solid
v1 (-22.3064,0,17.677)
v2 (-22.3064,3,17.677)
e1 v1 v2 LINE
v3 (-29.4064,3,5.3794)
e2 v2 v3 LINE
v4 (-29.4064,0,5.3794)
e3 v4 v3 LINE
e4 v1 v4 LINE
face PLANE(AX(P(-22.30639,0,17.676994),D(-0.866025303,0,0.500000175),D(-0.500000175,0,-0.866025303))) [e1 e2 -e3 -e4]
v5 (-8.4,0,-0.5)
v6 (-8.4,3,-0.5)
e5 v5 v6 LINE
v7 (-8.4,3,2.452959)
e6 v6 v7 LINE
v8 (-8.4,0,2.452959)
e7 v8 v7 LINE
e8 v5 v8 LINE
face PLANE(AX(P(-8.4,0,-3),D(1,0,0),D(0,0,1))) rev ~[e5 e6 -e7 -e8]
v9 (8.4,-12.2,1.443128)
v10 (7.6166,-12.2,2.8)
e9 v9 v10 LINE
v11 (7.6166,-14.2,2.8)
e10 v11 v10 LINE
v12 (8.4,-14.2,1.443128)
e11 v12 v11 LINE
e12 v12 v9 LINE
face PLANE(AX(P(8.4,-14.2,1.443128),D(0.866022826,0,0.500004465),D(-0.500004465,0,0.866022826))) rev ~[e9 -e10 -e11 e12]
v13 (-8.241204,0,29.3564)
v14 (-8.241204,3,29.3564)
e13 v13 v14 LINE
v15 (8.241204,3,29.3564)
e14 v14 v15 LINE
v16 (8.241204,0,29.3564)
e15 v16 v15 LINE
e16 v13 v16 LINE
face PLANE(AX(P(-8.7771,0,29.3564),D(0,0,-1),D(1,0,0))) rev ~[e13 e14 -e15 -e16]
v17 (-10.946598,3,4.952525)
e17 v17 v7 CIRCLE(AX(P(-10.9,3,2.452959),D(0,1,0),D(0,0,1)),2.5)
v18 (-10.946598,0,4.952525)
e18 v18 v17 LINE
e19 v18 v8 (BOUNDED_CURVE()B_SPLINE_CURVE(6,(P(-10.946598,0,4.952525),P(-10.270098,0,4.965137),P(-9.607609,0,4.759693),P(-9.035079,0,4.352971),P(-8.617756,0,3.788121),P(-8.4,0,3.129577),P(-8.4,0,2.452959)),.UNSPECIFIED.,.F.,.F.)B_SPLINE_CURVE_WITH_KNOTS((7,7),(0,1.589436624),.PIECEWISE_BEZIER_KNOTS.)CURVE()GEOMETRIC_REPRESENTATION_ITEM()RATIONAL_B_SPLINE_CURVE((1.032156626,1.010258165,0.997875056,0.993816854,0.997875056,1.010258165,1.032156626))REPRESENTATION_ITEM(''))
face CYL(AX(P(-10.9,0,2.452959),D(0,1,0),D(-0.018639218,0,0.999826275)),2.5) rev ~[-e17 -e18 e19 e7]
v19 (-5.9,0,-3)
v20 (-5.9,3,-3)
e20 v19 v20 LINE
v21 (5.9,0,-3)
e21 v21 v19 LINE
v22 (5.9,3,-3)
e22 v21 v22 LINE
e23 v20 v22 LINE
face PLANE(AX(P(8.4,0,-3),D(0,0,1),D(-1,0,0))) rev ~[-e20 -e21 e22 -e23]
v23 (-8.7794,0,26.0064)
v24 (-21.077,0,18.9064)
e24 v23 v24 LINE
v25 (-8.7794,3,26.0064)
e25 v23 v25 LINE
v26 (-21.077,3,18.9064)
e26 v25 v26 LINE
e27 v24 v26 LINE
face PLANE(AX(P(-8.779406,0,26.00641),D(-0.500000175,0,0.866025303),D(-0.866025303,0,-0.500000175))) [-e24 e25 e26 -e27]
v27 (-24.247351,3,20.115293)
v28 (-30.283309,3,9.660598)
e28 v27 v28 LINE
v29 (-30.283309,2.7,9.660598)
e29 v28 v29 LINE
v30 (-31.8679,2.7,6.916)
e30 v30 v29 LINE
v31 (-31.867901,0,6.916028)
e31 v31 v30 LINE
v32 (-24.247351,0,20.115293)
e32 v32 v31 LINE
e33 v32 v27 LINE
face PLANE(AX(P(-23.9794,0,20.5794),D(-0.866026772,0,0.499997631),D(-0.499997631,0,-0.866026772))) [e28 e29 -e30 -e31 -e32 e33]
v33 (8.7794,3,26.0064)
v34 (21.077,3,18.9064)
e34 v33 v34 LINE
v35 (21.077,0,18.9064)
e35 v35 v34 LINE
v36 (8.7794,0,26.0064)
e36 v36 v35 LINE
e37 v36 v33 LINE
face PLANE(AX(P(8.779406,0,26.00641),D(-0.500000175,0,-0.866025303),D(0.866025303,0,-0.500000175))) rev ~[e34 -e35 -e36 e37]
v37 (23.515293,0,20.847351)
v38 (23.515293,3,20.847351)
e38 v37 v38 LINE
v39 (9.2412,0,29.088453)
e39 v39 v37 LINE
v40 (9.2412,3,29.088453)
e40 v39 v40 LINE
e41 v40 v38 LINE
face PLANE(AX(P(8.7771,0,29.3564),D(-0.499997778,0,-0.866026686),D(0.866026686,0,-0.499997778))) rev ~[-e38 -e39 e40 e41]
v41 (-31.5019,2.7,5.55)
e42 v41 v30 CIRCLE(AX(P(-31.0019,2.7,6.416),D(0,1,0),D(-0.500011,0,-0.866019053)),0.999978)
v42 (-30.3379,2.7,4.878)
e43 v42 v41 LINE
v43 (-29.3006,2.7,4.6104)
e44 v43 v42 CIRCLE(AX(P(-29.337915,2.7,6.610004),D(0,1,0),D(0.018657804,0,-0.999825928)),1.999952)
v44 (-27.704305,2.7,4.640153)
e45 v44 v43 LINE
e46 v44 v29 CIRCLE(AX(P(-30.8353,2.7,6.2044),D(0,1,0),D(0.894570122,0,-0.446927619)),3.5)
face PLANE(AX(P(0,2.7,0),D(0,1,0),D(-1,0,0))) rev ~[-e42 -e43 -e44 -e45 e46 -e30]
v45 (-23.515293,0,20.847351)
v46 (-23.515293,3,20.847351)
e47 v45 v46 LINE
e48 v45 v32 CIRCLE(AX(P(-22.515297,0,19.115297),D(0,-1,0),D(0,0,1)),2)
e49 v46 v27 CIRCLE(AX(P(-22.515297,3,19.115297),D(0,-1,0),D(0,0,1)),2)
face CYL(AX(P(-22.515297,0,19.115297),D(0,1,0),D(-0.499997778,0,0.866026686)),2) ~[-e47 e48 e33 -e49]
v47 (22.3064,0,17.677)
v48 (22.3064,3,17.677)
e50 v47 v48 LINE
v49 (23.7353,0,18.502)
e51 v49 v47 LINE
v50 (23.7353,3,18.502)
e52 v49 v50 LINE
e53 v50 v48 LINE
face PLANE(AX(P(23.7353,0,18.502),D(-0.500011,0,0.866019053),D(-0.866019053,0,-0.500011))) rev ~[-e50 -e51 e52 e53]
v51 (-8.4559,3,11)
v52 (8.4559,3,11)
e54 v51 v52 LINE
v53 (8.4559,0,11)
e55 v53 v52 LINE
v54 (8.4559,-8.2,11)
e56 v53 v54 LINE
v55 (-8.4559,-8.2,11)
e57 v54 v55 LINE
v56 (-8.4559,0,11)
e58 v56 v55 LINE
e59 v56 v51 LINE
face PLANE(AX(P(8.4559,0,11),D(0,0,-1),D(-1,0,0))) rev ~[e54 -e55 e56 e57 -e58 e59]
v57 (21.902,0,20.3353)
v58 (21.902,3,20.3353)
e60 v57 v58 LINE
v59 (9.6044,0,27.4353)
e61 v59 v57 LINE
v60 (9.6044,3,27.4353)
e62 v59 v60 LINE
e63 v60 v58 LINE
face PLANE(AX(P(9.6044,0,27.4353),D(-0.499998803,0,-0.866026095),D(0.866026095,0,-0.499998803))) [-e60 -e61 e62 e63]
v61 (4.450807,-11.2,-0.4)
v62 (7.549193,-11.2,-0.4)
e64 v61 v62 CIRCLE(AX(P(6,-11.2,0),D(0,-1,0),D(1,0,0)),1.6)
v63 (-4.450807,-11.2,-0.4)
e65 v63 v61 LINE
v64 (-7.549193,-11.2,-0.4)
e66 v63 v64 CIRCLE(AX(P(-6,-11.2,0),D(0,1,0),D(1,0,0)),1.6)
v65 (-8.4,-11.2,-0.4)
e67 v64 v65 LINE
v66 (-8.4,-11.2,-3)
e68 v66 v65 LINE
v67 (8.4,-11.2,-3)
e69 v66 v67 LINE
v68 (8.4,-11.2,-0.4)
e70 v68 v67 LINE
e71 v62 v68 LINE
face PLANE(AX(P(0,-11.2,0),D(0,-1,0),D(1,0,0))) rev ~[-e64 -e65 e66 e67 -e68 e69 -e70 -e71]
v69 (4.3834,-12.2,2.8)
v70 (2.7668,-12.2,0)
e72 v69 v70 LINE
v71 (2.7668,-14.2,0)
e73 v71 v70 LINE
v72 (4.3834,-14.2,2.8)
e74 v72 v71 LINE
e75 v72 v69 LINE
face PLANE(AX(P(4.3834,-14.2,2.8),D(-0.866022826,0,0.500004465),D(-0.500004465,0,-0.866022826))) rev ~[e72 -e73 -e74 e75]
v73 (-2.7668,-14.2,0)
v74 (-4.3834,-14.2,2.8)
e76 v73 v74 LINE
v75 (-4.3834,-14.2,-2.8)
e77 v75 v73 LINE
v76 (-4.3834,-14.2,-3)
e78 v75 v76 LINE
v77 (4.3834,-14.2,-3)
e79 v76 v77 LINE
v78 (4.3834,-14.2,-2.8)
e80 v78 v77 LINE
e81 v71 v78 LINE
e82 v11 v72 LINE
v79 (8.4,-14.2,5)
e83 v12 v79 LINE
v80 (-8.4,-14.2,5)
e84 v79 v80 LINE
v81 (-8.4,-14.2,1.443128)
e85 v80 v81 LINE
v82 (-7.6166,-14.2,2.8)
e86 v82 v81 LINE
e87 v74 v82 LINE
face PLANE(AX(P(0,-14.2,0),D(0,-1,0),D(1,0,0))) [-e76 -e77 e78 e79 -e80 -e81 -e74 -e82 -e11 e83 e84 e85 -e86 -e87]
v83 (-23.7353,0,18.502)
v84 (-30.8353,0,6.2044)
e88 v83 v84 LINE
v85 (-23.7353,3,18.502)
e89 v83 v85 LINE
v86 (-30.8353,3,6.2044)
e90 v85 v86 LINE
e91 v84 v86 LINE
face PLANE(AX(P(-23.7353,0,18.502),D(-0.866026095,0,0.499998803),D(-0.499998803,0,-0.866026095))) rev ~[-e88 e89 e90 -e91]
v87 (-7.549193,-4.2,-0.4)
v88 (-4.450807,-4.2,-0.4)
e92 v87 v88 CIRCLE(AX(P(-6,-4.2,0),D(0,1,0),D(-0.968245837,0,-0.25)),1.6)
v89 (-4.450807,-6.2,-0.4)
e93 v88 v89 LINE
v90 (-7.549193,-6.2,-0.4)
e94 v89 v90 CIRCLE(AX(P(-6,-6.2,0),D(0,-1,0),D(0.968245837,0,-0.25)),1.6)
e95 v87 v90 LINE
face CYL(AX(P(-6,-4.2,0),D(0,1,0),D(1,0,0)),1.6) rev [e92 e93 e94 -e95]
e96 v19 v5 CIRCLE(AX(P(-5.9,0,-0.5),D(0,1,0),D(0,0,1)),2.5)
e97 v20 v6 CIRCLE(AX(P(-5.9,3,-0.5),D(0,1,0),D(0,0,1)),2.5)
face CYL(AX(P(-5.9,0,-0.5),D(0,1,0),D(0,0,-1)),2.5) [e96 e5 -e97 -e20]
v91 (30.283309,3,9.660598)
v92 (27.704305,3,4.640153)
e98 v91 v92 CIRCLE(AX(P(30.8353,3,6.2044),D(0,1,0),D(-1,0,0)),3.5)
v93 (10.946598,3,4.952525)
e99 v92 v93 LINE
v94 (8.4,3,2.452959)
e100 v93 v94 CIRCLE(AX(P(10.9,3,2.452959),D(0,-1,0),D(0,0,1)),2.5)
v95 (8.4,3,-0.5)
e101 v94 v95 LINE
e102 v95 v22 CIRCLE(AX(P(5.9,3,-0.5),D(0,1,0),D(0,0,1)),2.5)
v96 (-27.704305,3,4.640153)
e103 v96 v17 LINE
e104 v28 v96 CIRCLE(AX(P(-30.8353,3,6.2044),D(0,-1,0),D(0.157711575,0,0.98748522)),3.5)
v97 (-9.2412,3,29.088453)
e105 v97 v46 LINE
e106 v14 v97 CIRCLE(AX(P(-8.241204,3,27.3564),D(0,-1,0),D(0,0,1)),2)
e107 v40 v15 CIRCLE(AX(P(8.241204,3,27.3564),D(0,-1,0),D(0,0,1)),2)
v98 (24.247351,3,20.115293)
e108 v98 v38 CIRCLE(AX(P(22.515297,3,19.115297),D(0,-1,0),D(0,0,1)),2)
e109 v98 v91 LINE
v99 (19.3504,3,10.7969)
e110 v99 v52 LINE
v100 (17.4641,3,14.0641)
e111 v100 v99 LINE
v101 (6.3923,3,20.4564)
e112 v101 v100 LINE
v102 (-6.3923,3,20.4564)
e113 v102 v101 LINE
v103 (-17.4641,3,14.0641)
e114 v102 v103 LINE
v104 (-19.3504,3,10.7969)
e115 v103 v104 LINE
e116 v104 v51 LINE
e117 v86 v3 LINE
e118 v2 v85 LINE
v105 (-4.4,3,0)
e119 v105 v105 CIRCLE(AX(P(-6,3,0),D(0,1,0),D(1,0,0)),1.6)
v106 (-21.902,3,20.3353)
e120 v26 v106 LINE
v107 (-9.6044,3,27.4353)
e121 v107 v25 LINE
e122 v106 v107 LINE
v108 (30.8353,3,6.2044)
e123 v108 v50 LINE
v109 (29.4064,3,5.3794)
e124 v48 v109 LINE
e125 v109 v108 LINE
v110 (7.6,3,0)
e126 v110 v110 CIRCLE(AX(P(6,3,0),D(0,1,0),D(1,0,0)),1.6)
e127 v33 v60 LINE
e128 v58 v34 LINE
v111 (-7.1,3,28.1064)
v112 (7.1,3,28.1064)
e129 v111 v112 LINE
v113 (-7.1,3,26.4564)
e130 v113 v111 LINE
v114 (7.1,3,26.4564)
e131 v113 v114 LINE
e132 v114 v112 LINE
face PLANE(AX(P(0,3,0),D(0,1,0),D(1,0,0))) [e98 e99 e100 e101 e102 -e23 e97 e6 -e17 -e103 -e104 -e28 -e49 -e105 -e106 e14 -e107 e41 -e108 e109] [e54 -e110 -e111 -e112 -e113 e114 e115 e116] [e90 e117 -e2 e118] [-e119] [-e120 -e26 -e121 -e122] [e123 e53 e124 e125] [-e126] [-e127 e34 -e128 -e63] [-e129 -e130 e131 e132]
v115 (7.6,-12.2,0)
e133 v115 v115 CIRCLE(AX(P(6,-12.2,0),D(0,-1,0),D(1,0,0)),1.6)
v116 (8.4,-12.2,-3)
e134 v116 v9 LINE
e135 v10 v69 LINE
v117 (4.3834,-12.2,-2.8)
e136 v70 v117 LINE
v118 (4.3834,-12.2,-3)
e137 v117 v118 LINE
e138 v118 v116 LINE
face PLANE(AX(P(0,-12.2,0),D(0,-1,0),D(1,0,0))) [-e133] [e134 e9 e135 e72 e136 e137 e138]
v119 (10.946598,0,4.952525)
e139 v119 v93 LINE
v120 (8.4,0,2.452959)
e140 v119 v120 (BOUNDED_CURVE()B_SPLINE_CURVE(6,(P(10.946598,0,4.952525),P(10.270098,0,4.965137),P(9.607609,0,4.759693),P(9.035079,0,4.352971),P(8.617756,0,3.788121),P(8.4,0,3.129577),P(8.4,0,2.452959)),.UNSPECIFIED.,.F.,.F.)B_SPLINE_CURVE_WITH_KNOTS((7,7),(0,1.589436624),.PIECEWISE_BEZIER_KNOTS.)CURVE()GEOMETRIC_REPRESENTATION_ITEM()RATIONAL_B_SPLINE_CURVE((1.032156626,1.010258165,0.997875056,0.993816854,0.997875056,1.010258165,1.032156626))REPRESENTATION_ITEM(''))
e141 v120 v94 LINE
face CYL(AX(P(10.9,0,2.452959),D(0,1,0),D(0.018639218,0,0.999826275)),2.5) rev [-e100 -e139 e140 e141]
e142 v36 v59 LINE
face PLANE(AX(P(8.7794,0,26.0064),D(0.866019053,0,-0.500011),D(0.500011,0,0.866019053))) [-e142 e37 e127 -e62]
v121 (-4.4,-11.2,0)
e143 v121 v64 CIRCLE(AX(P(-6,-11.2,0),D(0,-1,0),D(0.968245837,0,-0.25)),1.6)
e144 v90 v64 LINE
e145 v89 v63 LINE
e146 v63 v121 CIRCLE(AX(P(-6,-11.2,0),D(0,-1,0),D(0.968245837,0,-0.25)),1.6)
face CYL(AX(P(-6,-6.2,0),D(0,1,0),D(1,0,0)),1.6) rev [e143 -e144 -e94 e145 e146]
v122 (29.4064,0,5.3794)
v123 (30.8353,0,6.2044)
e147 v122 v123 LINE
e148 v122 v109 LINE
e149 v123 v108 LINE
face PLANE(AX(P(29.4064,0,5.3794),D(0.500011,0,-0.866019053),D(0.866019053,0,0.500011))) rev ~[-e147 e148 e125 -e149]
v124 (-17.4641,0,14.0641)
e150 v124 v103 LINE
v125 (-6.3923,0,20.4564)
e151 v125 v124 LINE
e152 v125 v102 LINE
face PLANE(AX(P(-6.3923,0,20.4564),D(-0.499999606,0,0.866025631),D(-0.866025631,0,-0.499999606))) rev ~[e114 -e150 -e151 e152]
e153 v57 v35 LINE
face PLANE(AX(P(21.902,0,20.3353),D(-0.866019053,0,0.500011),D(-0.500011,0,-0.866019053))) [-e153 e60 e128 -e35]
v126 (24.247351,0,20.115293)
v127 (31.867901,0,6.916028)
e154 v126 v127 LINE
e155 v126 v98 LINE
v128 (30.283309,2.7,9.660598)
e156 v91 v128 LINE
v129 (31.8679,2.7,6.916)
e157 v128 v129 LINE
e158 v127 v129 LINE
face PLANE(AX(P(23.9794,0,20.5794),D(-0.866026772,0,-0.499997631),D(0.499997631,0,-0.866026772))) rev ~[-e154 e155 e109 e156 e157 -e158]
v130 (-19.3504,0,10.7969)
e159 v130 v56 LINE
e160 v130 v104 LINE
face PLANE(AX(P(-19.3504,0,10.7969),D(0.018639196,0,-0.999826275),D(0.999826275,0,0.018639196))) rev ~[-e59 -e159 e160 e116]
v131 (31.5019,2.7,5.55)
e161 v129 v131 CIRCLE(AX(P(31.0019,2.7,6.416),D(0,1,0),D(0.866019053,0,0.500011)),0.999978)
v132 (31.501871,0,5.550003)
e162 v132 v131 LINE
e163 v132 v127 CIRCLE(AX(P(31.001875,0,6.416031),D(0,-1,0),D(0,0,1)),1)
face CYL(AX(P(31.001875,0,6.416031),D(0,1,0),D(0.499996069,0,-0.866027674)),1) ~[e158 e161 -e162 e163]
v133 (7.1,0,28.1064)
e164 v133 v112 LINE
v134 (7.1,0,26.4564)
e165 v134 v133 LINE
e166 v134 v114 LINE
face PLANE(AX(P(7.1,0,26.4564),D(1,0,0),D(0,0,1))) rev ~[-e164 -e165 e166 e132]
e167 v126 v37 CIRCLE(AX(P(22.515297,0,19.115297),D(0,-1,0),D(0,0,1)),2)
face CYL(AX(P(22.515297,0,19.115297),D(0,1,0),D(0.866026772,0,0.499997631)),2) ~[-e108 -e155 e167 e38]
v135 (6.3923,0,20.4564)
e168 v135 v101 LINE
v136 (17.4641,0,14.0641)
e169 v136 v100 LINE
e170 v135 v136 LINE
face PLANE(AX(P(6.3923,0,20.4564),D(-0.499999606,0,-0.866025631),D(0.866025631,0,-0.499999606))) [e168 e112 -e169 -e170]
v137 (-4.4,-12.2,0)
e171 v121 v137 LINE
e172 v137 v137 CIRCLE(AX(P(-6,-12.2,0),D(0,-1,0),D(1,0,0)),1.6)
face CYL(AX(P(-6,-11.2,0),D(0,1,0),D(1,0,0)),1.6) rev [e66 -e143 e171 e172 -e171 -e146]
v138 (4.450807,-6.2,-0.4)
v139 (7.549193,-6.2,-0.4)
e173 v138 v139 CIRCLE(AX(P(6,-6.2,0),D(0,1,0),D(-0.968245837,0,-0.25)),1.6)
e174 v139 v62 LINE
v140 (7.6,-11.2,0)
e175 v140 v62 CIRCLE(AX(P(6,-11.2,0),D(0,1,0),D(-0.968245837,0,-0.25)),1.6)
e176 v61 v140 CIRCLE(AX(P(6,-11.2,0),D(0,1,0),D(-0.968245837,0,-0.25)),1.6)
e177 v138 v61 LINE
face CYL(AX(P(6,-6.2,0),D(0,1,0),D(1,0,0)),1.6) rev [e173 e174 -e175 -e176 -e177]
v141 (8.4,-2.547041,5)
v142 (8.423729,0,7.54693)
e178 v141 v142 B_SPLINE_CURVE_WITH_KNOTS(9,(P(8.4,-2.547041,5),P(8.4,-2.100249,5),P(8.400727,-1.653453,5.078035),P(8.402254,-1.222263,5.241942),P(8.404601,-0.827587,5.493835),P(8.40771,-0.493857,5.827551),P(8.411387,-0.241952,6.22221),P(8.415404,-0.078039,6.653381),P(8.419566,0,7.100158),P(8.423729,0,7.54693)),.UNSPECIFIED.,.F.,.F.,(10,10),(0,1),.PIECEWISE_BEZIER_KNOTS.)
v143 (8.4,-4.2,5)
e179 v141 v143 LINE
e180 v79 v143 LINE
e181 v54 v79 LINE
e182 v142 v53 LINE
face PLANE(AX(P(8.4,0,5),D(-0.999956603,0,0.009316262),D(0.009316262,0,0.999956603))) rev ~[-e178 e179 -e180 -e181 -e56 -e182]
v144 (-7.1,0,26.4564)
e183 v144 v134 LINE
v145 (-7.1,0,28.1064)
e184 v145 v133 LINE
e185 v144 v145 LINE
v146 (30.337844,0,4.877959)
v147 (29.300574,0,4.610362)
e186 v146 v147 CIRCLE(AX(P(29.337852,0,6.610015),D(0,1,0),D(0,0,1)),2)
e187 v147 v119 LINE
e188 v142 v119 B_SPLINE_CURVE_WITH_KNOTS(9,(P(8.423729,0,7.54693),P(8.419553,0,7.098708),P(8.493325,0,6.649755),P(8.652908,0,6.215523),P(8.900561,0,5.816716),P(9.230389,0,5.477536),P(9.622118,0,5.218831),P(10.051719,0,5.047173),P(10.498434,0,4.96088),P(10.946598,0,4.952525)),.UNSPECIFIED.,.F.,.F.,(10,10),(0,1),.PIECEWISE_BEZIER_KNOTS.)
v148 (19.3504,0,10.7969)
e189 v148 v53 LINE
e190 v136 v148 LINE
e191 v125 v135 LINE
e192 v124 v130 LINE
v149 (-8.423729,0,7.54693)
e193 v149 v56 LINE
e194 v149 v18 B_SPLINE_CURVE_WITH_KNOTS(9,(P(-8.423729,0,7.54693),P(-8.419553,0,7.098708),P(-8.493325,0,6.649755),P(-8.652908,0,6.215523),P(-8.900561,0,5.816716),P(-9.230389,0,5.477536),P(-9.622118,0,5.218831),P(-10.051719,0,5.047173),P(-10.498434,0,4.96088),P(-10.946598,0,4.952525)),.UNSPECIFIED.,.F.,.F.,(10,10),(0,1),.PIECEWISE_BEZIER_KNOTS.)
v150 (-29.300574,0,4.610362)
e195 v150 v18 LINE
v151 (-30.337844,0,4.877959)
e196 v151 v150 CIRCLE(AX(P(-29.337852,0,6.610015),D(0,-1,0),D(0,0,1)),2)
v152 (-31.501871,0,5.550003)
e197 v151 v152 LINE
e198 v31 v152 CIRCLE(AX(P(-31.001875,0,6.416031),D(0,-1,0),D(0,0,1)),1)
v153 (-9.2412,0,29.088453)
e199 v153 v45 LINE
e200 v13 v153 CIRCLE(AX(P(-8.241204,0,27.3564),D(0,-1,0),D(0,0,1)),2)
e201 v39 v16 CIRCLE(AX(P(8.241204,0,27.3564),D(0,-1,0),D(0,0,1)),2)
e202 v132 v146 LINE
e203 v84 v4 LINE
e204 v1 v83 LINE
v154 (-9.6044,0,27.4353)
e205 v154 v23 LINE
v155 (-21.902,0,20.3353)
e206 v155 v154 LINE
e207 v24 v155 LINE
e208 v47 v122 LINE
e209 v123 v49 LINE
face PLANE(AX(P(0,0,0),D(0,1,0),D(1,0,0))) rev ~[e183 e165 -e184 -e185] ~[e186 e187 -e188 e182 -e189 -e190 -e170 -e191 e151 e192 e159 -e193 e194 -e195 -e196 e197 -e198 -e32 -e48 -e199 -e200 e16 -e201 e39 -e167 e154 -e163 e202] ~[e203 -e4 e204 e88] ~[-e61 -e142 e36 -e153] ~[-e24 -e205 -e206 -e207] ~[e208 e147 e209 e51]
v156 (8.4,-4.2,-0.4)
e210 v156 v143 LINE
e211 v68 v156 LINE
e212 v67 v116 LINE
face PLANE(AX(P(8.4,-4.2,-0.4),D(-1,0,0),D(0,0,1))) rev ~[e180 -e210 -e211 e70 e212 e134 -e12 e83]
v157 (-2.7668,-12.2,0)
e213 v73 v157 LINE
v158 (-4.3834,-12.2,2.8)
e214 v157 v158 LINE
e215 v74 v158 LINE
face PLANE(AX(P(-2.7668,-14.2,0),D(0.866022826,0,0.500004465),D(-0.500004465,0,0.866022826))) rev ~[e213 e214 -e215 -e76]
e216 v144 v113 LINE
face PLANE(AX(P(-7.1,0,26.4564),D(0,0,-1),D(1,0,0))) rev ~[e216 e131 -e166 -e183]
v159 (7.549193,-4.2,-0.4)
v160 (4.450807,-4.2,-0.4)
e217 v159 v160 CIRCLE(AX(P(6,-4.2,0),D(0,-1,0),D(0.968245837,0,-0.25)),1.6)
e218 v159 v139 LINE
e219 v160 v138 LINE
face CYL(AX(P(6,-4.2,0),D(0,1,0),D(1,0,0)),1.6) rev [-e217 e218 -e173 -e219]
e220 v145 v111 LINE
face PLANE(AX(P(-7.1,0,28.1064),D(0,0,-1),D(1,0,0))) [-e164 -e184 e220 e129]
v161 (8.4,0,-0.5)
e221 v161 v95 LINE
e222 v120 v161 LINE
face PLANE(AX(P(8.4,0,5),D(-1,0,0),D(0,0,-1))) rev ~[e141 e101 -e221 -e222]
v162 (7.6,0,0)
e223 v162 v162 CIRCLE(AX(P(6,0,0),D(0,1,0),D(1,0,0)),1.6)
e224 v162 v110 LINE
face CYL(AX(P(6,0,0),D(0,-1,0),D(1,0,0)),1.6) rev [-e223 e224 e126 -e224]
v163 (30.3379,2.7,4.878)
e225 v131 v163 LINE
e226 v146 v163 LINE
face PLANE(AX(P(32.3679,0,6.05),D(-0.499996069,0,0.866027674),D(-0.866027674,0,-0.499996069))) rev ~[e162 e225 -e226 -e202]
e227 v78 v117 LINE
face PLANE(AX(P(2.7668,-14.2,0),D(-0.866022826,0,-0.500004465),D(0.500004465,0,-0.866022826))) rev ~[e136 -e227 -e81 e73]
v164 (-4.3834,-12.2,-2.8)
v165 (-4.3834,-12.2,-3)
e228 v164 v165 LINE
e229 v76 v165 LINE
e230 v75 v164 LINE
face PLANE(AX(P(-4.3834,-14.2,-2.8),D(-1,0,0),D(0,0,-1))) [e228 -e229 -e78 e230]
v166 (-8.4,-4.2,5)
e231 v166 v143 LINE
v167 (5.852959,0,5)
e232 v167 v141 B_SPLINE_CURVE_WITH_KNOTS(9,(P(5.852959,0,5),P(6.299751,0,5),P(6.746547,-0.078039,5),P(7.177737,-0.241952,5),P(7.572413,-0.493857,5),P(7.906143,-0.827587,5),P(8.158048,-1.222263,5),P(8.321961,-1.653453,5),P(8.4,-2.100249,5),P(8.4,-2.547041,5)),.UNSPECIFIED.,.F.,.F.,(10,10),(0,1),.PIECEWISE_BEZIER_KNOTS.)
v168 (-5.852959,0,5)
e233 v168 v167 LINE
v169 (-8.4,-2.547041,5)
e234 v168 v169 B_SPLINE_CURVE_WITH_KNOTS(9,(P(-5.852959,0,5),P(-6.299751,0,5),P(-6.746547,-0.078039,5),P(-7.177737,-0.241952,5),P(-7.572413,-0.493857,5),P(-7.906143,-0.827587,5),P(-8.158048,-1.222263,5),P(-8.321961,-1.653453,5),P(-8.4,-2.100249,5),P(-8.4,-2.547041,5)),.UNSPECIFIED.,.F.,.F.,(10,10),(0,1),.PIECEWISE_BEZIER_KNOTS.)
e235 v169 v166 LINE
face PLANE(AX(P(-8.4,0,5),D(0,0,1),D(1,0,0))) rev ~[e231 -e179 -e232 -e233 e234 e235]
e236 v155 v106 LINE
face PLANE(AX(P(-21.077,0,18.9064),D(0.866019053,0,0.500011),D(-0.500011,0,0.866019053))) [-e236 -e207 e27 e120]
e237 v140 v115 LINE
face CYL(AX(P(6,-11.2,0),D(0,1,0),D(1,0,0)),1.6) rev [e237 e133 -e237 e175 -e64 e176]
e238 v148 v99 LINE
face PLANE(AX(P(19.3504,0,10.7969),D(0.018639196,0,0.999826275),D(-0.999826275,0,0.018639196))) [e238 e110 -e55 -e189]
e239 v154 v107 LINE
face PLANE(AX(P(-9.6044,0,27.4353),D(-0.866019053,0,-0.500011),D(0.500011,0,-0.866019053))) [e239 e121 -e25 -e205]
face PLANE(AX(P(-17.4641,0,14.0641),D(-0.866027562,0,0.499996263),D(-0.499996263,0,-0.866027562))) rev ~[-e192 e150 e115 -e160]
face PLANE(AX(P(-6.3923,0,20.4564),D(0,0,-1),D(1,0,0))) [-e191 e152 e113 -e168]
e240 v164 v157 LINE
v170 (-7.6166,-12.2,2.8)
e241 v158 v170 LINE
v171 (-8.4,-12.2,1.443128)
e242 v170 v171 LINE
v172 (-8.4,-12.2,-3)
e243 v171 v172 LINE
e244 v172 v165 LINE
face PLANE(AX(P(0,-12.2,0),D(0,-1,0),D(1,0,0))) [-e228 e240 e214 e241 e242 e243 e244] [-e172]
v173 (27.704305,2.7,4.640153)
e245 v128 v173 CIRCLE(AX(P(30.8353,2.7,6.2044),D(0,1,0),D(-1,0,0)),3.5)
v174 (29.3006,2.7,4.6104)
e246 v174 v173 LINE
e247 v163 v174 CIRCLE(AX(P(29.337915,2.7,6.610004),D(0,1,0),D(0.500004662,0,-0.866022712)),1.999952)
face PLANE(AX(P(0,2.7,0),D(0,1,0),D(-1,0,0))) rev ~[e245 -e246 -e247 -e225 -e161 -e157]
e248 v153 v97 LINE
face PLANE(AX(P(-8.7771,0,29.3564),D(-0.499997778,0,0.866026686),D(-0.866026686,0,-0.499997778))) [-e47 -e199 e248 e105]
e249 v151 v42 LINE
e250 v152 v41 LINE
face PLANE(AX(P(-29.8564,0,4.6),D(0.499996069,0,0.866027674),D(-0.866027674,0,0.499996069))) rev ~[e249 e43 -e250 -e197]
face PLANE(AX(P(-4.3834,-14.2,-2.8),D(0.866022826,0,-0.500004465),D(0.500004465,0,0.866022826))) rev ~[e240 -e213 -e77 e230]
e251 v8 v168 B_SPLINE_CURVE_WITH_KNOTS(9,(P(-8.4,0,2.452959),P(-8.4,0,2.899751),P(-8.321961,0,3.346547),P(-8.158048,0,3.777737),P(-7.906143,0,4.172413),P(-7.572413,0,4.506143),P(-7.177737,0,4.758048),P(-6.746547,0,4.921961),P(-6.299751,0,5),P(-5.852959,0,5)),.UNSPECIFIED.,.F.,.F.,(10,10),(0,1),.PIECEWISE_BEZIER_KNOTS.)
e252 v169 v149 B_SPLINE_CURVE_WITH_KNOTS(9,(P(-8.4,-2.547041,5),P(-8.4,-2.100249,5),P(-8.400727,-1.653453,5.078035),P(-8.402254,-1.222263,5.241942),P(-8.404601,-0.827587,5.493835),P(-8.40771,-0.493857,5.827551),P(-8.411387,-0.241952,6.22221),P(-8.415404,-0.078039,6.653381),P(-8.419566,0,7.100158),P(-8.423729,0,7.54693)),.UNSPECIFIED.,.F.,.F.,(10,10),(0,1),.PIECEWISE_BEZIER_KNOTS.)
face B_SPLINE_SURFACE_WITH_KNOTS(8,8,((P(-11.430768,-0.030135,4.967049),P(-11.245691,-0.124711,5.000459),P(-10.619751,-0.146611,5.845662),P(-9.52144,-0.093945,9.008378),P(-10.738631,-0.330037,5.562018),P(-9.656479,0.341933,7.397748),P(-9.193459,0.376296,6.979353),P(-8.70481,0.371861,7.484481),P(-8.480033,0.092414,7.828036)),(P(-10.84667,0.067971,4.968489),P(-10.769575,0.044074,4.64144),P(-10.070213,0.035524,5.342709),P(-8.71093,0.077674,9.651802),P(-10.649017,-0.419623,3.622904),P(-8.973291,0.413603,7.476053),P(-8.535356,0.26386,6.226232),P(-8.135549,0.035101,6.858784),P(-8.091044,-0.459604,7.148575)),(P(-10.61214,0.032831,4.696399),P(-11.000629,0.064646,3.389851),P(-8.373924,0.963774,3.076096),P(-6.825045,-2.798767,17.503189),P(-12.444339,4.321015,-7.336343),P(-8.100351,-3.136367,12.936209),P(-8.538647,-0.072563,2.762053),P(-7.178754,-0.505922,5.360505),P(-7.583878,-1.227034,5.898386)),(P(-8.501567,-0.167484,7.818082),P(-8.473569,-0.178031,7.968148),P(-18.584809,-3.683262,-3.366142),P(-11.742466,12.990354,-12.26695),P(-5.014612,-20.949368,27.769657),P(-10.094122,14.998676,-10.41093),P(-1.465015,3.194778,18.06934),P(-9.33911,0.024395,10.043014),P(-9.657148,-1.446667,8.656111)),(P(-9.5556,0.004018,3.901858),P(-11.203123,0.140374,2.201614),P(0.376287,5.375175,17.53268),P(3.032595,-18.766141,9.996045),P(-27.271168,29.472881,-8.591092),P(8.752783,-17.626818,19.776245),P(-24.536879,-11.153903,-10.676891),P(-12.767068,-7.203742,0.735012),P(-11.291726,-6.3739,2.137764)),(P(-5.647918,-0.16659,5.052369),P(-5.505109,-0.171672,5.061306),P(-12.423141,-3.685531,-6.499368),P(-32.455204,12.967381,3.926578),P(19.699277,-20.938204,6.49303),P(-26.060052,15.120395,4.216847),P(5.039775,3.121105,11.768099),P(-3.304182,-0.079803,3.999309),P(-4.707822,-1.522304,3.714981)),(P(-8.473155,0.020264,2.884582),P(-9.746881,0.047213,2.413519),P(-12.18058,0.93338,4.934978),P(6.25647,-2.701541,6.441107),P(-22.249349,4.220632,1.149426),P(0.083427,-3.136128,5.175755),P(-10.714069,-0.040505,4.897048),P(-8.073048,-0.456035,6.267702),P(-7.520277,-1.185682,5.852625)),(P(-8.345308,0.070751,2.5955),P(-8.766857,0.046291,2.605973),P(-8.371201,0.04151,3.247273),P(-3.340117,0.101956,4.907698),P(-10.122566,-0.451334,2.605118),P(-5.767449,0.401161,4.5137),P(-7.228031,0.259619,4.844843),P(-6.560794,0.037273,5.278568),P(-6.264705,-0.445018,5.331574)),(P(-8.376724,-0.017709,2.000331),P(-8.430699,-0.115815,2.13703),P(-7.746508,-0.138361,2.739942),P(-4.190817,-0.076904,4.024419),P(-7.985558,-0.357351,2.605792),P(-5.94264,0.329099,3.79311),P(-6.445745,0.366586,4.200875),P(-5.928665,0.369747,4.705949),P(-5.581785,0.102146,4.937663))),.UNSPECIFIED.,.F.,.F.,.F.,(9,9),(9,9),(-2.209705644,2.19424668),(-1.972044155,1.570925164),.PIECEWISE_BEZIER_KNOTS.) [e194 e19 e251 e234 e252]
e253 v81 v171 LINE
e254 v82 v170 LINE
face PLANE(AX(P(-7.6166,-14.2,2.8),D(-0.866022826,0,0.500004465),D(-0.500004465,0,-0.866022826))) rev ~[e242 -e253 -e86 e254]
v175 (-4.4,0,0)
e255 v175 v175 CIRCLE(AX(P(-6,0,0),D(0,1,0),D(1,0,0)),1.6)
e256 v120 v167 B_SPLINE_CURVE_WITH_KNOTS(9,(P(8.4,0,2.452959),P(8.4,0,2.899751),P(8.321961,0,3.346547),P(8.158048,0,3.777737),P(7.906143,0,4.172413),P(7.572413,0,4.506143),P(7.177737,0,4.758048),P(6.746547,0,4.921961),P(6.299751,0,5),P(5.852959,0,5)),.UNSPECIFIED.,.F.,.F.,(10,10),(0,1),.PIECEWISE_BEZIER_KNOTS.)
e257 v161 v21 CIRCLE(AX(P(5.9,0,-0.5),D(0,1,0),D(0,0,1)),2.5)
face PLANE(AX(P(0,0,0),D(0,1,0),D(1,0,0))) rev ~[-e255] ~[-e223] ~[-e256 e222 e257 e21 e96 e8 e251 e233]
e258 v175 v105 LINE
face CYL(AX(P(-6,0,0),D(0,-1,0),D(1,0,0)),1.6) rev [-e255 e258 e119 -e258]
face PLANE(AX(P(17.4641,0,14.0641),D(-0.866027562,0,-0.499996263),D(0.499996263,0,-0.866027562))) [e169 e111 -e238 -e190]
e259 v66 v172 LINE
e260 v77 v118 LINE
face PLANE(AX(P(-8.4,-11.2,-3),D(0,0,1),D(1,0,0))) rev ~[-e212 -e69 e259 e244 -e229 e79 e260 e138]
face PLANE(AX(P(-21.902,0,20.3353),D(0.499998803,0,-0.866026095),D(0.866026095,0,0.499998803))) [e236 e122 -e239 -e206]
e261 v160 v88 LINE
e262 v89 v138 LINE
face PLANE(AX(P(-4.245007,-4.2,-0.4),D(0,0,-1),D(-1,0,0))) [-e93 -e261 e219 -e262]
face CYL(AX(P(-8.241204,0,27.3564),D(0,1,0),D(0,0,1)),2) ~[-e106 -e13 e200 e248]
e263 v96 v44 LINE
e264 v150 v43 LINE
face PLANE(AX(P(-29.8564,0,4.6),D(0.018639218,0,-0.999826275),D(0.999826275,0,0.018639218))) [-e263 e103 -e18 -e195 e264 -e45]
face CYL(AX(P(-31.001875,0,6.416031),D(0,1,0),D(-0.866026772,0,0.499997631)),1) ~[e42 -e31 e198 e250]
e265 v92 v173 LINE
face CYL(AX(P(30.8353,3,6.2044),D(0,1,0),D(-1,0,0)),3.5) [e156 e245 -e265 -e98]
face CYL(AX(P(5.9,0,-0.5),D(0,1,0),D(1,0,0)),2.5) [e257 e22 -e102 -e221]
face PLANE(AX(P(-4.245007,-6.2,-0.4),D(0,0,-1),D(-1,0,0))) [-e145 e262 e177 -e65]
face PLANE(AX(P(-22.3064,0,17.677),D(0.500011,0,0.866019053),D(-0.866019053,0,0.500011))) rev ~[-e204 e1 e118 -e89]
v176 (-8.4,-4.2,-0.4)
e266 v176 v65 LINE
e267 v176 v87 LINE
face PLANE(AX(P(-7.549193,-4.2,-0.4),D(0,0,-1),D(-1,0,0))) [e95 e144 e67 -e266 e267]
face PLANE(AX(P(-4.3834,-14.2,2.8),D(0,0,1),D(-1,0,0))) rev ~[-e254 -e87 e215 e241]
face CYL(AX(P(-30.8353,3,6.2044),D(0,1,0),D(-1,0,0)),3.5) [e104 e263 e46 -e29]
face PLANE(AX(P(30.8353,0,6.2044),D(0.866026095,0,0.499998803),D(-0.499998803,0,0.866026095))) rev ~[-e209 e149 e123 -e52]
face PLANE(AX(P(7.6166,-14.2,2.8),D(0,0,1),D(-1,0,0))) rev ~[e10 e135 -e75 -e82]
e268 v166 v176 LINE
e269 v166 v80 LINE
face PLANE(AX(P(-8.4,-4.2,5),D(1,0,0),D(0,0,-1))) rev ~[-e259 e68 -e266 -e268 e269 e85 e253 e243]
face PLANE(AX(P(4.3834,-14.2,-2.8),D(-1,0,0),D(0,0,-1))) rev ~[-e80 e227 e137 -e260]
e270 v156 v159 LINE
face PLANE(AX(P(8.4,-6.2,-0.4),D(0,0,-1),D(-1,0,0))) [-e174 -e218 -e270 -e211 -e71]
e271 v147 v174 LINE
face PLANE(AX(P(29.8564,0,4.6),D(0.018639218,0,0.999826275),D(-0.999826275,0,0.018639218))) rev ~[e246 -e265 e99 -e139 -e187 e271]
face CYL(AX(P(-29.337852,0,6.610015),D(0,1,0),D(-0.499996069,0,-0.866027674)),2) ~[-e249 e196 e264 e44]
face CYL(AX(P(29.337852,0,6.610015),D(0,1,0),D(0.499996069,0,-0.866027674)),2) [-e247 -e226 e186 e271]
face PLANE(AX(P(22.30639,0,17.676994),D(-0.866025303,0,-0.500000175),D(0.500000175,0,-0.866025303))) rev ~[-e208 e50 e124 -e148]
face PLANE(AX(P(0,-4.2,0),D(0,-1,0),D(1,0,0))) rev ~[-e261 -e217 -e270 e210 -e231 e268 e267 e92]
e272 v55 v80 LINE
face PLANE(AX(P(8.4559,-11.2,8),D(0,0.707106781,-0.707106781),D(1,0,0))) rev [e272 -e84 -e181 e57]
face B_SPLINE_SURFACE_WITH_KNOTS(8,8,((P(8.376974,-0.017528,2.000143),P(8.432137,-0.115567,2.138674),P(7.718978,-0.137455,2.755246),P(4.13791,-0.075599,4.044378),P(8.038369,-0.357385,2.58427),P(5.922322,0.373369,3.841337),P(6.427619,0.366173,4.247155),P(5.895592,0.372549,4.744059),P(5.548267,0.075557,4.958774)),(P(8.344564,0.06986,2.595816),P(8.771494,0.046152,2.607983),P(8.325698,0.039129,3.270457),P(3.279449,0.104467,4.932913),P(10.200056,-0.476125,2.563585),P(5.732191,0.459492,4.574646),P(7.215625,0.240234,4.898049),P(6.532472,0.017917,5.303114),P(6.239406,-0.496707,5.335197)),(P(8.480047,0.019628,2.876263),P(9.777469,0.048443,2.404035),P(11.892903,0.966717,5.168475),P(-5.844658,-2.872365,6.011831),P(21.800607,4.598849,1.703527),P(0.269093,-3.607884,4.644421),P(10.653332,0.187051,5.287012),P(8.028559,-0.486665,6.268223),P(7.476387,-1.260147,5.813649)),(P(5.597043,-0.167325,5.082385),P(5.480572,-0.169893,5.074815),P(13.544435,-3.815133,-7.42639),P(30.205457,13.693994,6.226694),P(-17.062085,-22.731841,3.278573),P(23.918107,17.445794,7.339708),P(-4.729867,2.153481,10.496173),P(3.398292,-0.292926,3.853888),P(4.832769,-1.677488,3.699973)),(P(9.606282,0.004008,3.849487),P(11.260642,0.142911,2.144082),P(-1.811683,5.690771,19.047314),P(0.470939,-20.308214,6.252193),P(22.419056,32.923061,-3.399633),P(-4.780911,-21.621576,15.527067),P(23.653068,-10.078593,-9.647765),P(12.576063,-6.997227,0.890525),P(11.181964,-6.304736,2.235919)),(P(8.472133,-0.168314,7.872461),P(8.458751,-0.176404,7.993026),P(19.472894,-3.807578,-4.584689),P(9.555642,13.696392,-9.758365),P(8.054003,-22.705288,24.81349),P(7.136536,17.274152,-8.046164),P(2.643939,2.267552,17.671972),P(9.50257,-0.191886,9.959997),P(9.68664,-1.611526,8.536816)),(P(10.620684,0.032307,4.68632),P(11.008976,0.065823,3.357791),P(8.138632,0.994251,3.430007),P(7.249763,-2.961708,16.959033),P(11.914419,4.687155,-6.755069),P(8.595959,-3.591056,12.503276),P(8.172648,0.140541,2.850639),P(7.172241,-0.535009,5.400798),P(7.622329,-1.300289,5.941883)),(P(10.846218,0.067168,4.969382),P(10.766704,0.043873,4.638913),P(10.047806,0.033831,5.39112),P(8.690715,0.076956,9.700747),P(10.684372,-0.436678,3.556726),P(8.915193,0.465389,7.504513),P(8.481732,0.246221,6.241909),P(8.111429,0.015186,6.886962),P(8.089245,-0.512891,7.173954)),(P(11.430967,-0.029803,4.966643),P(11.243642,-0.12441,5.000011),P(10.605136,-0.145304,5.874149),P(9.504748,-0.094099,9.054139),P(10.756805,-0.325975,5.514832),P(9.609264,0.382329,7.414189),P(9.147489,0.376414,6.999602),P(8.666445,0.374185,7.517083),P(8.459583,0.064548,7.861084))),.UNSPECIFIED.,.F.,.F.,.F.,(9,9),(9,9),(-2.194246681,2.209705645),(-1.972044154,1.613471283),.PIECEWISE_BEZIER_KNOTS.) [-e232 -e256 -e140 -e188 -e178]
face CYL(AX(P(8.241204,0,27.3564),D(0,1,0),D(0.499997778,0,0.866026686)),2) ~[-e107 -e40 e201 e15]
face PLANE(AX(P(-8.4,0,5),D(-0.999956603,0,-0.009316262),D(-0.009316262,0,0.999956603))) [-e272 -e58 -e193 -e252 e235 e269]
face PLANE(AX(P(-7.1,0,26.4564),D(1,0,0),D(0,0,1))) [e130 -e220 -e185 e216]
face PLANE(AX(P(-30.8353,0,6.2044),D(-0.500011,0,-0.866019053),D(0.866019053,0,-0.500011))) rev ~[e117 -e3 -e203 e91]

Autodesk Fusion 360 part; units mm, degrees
sketch "Sketch1" plane through (0, 0, 0) normal (0, 1, 0) x (1, 0, 0)
  line L0 (0, 0) -> (6, 0) construction
  line L1 (0, 0) -> (-6, 0) construction
  circle A0 centre (6, 0) radius 1.6
  circle A1 centre (-6, 0) radius 1.6
  line L2 (0, 0) -> (0, 3) construction
  line L3 (0, 3) -> (-8.4, 3)
  line L4 (-8.4, 3) -> (-8.4, -5)
  line L5 (-8.4, -5) -> (8.4, -5)
  line L6 (8.4, -5) -> (8.4, 3)
  line L7 (8.4, 3) -> (0, 3)
  line L8 (-8, -26.4564) -> (8, -26.4564)
  line L9 (8, -26.4564) -> (21.8564, -18.4564)
  line L10 (-8, -26.4564) -> (-21.8564, -18.4564)
  line L11 (21.8564, -18.4564) -> (8.4, -5) construction
  line L12 (-21.8564, -18.4564) -> (-8.4, -5) construction
  line L13 (21.8564, -18.4564) -> (29.8564, -4.6)
  line L14 (29.8564, -4.6) -> (8.4, -5)
  line L15 (-21.8564, -18.4564) -> (-29.8564, -4.6)
  line L16 (-29.8564, -4.6) -> (-8.4, -5)
  line L17 (-8.4559, -11) -> (8.4559, -11)
  line L18 (19.3504, -10.7969) -> (8.4559, -11)
  line L19 (17.4641, -14.0641) -> (19.3504, -10.7969)
  line L20 (6.3923, -20.4564) -> (17.4641, -14.0641)
  line L21 (-6.3923, -20.4564) -> (6.3923, -20.4564)
  line L22 (-6.3923, -20.4564) -> (-17.4641, -14.0641)
  line L23 (-17.4641, -14.0641) -> (-19.3504, -10.7969)
  line L24 (-19.3504, -10.7969) -> (-8.4559, -11)
  line L25 (-7.1, -28.1064) -> (7.1, -28.1064)
  line L26 (7.1, -26.4564) -> (7.1, -28.1064)
  line L27 (-7.1, -26.4564) -> (-7.1, -28.1064)
  line L28 (-21.077, -18.9064) -> (-21.902, -20.3353)
  line L29 (-21.902, -20.3353) -> (-9.6044, -27.4353)
  line L30 (-9.6044, -27.4353) -> (-8.7794, -26.0064)
  line L31 (-22.3064, -17.677) -> (-23.7353, -18.502)
  line L32 (-23.7353, -18.502) -> (-30.8353, -6.2044)
  line L33 (-30.8353, -6.2044) -> (-29.4064, -5.3794)
  line L34 (29.4064, -5.3794) -> (30.8353, -6.2044)
  line L35 (30.8353, -6.2044) -> (23.7353, -18.502)
  line L36 (23.7353, -18.502) -> (22.3064, -17.677)
  line L37 (8.7794, -26.0064) -> (9.6044, -27.4353)
  line L38 (9.6044, -27.4353) -> (21.902, -20.3353)
  line L39 (21.902, -20.3353) -> (21.077, -18.9064)
  line L40 (0, -28.1064) -> (0, -26.4564) construction
  line L41 (-15.7532, -23.8853) -> (-14.9282, -22.4564) construction
  line L42 (-27.2853, -12.3532) -> (-25.8564, -11.5282) construction
  line L43 (25.8564, -11.5282) -> (27.2853, -12.3532) construction
  line L44 (14.9282, -22.4564) -> (15.7532, -23.8853) construction
  line L45 (23.9794, -20.5794) -> (32.3679, -6.05)
  line L46 (8.7771, -29.3564) -> (23.9794, -20.5794)
  line L47 (-8.7771, -29.3564) -> (8.7771, -29.3564)
  line L48 (-8.7771, -29.3564) -> (-23.9794, -20.5794)
  line L49 (-23.9794, -20.5794) -> (-32.3679, -6.05)
  line L50 (-29.8564, -4.6) -> (-32.3679, -6.05)
  line L51 (32.3679, -6.05) -> (29.8564, -4.6)
  circle A2 centre (6, 0) radius 1.8
  circle A3 centre (-6, 0) radius 1.8
  dimension "d1" = 12
  dimension "d2" = 3.2
  dimension "d4" = 3
  dimension "d5" = 5
  dimension "d7" = 16.8
  dimension "d10" = 135
  dimension "d11" = 135
  dimension "d12" = 30
  dimension "d13" = 16
  dimension "d14" = 26.4564
  dimension "d15" = 60
  dimension "d16" = 6
  dimension "d24" = 14.2
  dimension "d25" = 1.65
  dimension "d26" = -2.9
  dimension "d27" = 3.6
extrude "Extrude1" add sketch "Sketch1" along normal blind 3 contours L3 L4 L5 L6 L7 | L5 L8 L9 L10 L13 L14 L15 L16 | L8 L9 L10 L13 L15 L25 L26 L27 L28 L29 L30 L31 L32 L33 L34 L35 L36 L37 L38 L39 L45 L46 L47 L48 L49 L50 L51 | A2 | A3 makes body 1
sketch "Sketch2" plane through (0, 0, 0) normal (0, -1, 0) x (1, 0, 0)
  line L0 (7.1, 26.4564) -> (-7.1, 26.4564)
  line L1 (-7.1, 26.4564) -> (-7.1, 28.1064)
  line L2 (-7.1, 28.1064) -> (7.1, 28.1064)
  line L3 (7.1, 28.1064) -> (7.1, 26.4564)
  line L4 (8.7794, 26.0064) -> (9.6044, 27.4353)
  line L5 (9.6044, 27.4353) -> (21.902, 20.3353)
  line L6 (21.902, 20.3353) -> (21.077, 18.9064)
  line L7 (21.077, 18.9064) -> (8.7794, 26.0064)
  line L8 (23.7353, 18.502) -> (30.8353, 6.2044)
  line L9 (30.8353, 6.2044) -> (29.4064, 5.3794)
  line L10 (29.4064, 5.3794) -> (22.3064, 17.677)
  line L11 (22.3064, 17.677) -> (23.7353, 18.502)
  line L12 (-22.3064, 17.677) -> (-29.4064, 5.3794)
  line L13 (-29.4064, 5.3794) -> (-30.8353, 6.2044)
  line L14 (-30.8353, 6.2044) -> (-23.7353, 18.502)
  line L15 (-23.7353, 18.502) -> (-22.3064, 17.677)
  circle A0 centre (-6, 0) radius 1.6
  line L16 (-6.3923, 20.4564) -> (6.3923, 20.4564)
  line L17 (6.3923, 20.4564) -> (17.4641, 14.0641)
  line L18 (17.4641, 14.0641) -> (19.3504, 10.7969)
  line L19 (19.3504, 10.7969) -> (8.4559, 11)
  line L20 (8.4559, 11) -> (-8.4559, 11)
  line L21 (-8.4559, 11) -> (-19.3504, 10.7969)
  line L22 (-19.3504, 10.7969) -> (-17.4641, 14.0641)
  line L23 (-17.4641, 14.0641) -> (-6.3923, 20.4564)
  circle A1 centre (6, 0) radius 1.6
  line L24 (-9.6044, 27.4353) -> (-8.7794, 26.0064)
  line L25 (-8.7794, 26.0064) -> (-21.077, 18.9064)
  line L26 (-21.077, 18.9064) -> (-21.902, 20.3353)
  line L27 (-21.902, 20.3353) -> (-9.6044, 27.4353)
  line L28 (8.7771, 29.3564) -> (-8.7771, 29.3564)
  line L29 (-8.7771, 29.3564) -> (-23.9794, 20.5794)
  line L30 (-23.9794, 20.5794) -> (-32.3679, 6.05)
  line L31 (-32.3679, 6.05) -> (-29.8564, 4.6)
  line L32 (-29.8564, 4.6) -> (-8.4, 5)
  line L33 (-8.4, 5) -> (-8.4, -3)
  line L34 (-8.4, -3) -> (8.4, -3)
  line L35 (8.4, -3) -> (8.4, 5)
  line L36 (8.4, 5) -> (29.8564, 4.6)
  line L37 (29.8564, 4.6) -> (32.3679, 6.05)
  line L38 (32.3679, 6.05) -> (23.9794, 20.5794)
  line L39 (23.9794, 20.5794) -> (8.7771, 29.3564)
  line L40 (8.4, 5) -> (8.4559, 11)
  line L41 (-8.4, 5) -> (-8.4559, 11)
  line L42 (-8.4, -1.8) -> (8.4, -1.8)
  circle A2 centre (6, 0) radius 1.8
  circle A3 centre (-6, 0) radius 1.8
  line L43 (8.4, -0.4) -> (-8.4, -0.4)
  line L44 (3.4, -1.8) -> (3.4, -0.4)
  line L45 (-3.4, -1.8) -> (-3.4, -0.4)
  line L46 (8.4, 5) -> (8.4, -3)
  line L47 (-8.4, -3) -> (-8.4, 5)
  line L48 (-8.4, 5) -> (8.4, 5)
  dimension "d28" = 0.4
  dimension "d29" = 5
  dimension "d30" = 5
extrude "Extrude4" add sketch "Sketch2" along normal blind 6.2 and the other way blind -4.2 separate body contours A0 A3 L43 | L33 L35 A2 A3 L43 L46 L47 L48 | A1 A2 L43 picked at (-7.7136, -0.2359) picked at (4.2864, -0.2359) makes body 2
extrude "Extrude5" add sketch "Sketch2" along normal blind 11.2 and the other way blind -6.2 separate body contours A0 A3 L43 | L33 L35 A2 A3 L43 L46 L47 L48 | A1 A2 L43 picked at (-7.7136, -0.2359) picked at (4.2864, -0.2359) makes body 3
extrude "Extrude6" add sketch "Sketch2" along normal blind 14.2 and the other way blind -11.2 contours A0 A3 L43 | A0 A3 L43 | L33 L35 A2 A3 L43 L46 L47 L48 | L33 L42 A3 L43 L47 | L42 A3 L43 L45 | L33 L34 L35 L42 L46 L47 | L42 L43 L44 L45 | L42 A2 L43 L44 | A1 A2 L43 | A1 A2 L43 | L35 L42 A2 L43 L46 bodies 3
extrude "Extrude7" add sketch "Sketch2" along normal blind 14.2 contours L20 L40 L41 L48 bodies 1 2 3
sketch "Sketch3" plane through (0, -14.2, 0) normal (0, -1, 0) x (1, 0, 0)
  circle A0 centre (-6, 0) radius 1.6
  circle A1 centre (6, 0) radius 1.6
  line L0 (8.4, 5) -> (8.4559, 11)
  line L1 (8.4559, 11) -> (-8.4559, 11)
  line L2 (-8.4559, 11) -> (-8.4, 5)
  line L3 (-8.4, 5) -> (-8.4, -3)
  line L4 (-8.4, -3) -> (8.4, -3)
  line L5 (8.4, -3) -> (8.4, 5)
  line L6 (-7.6166, 2.8) -> (-9.2332, 0)
  line L7 (-9.2332, 0) -> (-7.6166, -2.8)
  line L8 (-7.6166, -2.8) -> (-4.3834, -2.8)
  line L9 (-4.3834, -2.8) -> (-2.7668, 0)
  line L10 (-2.7668, 0) -> (-4.3834, 2.8)
  line L11 (-4.3834, 2.8) -> (-7.6166, 2.8)
  line L12 (4.3834, 2.8) -> (2.7668, 0)
  line L13 (2.7668, 0) -> (4.3834, -2.8)
  line L14 (4.3834, -2.8) -> (7.6166, -2.8)
  line L15 (7.6166, -2.8) -> (9.2332, 0)
  line L16 (9.2332, 0) -> (7.6166, 2.8)
  line L17 (7.6166, 2.8) -> (4.3834, 2.8)
  line L18 (-4.3834, -2.8) -> (-4.3834, -3)
  line L19 (4.3834, -2.8) -> (4.3834, -3)
  point P0 (-6, 0)
  point P1 (6, 0)
  dimension "d49" = 5.6
extrude "Extrude8" cut sketch "Sketch3" against normal blind 2 contours L5 L12 L13 L14 L15 L16 L17 | L4 L5 L14 L15 L19 | L3 L6 L7 L8 L9 L10 L11 | L3 L4 L7 L8 L18 bodies 1
fillet "Fillet2" radius 2.5 2 edges at (8.4, 1.5, 5) (-8.4, 1.5, 5) on bodies 1
fillet "Fillet3" radius 2.5 2 edges at (-8.4, 1.5, -3) (8.4, 1.5, -3) on bodies 1
chamfer "Chamfer1" distance 6 angle 45 1 edges at (0, -14.2, 11) on bodies 1
fillet "Fillet4" radius 1 2 edges at (32.3679, 1.5, 6.05) (-32.3679, 1.5, 6.05) on bodies 1
fillet "Fillet5" radius 2 6 edges at (23.9794, 1.5, 20.5794) (8.7771, 1.5, 29.3564) (-8.7771, 1.5, 29.3564) (-23.9794, 1.5, 20.5794) (-29.8564, 1.5, 4.6) (29.8564, 1.5, 4.6) on bodies 1
sketch "Sketch4" plane through (0, 3, 0) normal (0, 1, 0) x (-1, 0, 0)
  arc A0 (-30.3379, 4.878) -> (-29.3006, 4.6104) centre (-29.3379, 6.61) ccw
  line L0 (-29.3006, 4.6104) -> (-10.9466, 4.9525)
  arc A1 (-8.4, 2.453) -> (-10.9466, 4.9525) centre (-10.9, 2.453) ccw
  line L1 (-8.4, 2.453) -> (-8.4, -0.5)
  arc A2 (-8.4, -0.5) -> (-5.9, -3) centre (-5.9, -0.5) ccw
  line L2 (-5.9, -3) -> (5.9, -3)
  arc A3 (5.9, -3) -> (8.4, -0.5) centre (5.9, -0.5) ccw
  line L3 (8.4, -0.5) -> (8.4, 2.453)
  arc A4 (10.9466, 4.9525) -> (8.4, 2.453) centre (10.9, 2.453) ccw
  line L4 (10.9466, 4.9525) -> (29.3006, 4.6104)
  arc A5 (29.3006, 4.6104) -> (30.3379, 4.878) centre (29.3379, 6.61) ccw
  line L5 (30.3379, 4.878) -> (31.5019, 5.55)
  arc A6 (31.5019, 5.55) -> (31.8679, 6.916) centre (31.0019, 6.416) ccw
  line L6 (31.8679, 6.916) -> (24.2473, 20.1153)
  arc A7 (24.2473, 20.1153) -> (23.5153, 20.8473) centre (22.5153, 19.1153) ccw
  line L7 (23.5153, 20.8473) -> (9.2412, 29.0885)
  arc A8 (9.2412, 29.0885) -> (8.2412, 29.3564) centre (8.2412, 27.3564) ccw
  line L8 (8.2412, 29.3564) -> (-8.2412, 29.3564)
  arc A9 (-8.2412, 29.3564) -> (-9.2412, 29.0885) centre (-8.2412, 27.3564) ccw
  line L9 (-9.2412, 29.0885) -> (-23.5153, 20.8473)
  arc A10 (-23.5153, 20.8473) -> (-24.2473, 20.1153) centre (-22.5153, 19.1153) ccw
  line L10 (-24.2473, 20.1153) -> (-31.8679, 6.916)
  arc A11 (-31.8679, 6.916) -> (-31.5019, 5.55) centre (-31.0019, 6.416) ccw
  line L11 (-31.5019, 5.55) -> (-30.3379, 4.878)
  circle A12 centre (-6, 0) radius 1.6
  circle A13 centre (6, 0) radius 1.6
  line L12 (-6.3923, 20.4564) -> (6.3923, 20.4564)
  line L13 (6.3923, 20.4564) -> (17.4641, 14.0641)
  line L14 (17.4641, 14.0641) -> (19.3504, 10.7969)
  line L15 (19.3504, 10.7969) -> (8.4559, 11)
  line L16 (8.4559, 11) -> (-8.4559, 11)
  line L17 (-8.4559, 11) -> (-19.3504, 10.7969)
  line L18 (-19.3504, 10.7969) -> (-17.4641, 14.0641)
  line L19 (-17.4641, 14.0641) -> (-6.3923, 20.4564)
  line L20 (29.4064, 5.3794) -> (22.3064, 17.677)
  line L21 (22.3064, 17.677) -> (23.7353, 18.502)
  line L22 (23.7353, 18.502) -> (30.8353, 6.2044)
  line L23 (30.8353, 6.2044) -> (29.4064, 5.3794)
  line L24 (-30.8353, 6.2044) -> (-23.7353, 18.502)
  line L25 (-23.7353, 18.502) -> (-22.3064, 17.677)
  line L26 (-22.3064, 17.677) -> (-29.4064, 5.3794)
  line L27 (-29.4064, 5.3794) -> (-30.8353, 6.2044)
  line L28 (7.1, 26.4564) -> (-7.1, 26.4564)
  line L29 (-7.1, 26.4564) -> (-7.1, 28.1064)
  line L30 (-7.1, 28.1064) -> (7.1, 28.1064)
  line L31 (7.1, 28.1064) -> (7.1, 26.4564)
  line L32 (8.7794, 26.0064) -> (9.6044, 27.4353)
  line L33 (9.6044, 27.4353) -> (21.902, 20.3353)
  line L34 (21.902, 20.3353) -> (21.077, 18.9064)
  line L35 (21.077, 18.9064) -> (8.7794, 26.0064)
  line L36 (-9.6044, 27.4353) -> (-8.7794, 26.0064)
  line L37 (-8.7794, 26.0064) -> (-21.077, 18.9064)
  line L38 (-21.077, 18.9064) -> (-21.902, 20.3353)
  line L39 (-21.902, 20.3353) -> (-9.6044, 27.4353)
  circle A14 centre (30.8353, 6.2044) radius 3.5
  circle A15 centre (-30.8353, 6.2044) radius 3.5
  dimension "d55" = 7
extrude "Extrude9" add sketch "Sketch4" against normal blind 0.3 contours A0 L0 L10 A11 L11 A15 | L4 A5 L5 A6 L6 A14 bodies 1
equation "d7 = 16 mm + 0.4 * 2 mm"
equation "d26 = -1.7 mm - 1.2 mm"
equation "d27 = 1.8 * 2 mm"
equation "d35 = 4.2 mm + 2 mm"
equation "d39 = 4.2 mm + 7 mm"
equation "d41 = -4.2 mm - 2 mm"
equation "d43 = 4.2 mm + 10 mm"
equation "d45 = -4.2 mm - 7 mm"
